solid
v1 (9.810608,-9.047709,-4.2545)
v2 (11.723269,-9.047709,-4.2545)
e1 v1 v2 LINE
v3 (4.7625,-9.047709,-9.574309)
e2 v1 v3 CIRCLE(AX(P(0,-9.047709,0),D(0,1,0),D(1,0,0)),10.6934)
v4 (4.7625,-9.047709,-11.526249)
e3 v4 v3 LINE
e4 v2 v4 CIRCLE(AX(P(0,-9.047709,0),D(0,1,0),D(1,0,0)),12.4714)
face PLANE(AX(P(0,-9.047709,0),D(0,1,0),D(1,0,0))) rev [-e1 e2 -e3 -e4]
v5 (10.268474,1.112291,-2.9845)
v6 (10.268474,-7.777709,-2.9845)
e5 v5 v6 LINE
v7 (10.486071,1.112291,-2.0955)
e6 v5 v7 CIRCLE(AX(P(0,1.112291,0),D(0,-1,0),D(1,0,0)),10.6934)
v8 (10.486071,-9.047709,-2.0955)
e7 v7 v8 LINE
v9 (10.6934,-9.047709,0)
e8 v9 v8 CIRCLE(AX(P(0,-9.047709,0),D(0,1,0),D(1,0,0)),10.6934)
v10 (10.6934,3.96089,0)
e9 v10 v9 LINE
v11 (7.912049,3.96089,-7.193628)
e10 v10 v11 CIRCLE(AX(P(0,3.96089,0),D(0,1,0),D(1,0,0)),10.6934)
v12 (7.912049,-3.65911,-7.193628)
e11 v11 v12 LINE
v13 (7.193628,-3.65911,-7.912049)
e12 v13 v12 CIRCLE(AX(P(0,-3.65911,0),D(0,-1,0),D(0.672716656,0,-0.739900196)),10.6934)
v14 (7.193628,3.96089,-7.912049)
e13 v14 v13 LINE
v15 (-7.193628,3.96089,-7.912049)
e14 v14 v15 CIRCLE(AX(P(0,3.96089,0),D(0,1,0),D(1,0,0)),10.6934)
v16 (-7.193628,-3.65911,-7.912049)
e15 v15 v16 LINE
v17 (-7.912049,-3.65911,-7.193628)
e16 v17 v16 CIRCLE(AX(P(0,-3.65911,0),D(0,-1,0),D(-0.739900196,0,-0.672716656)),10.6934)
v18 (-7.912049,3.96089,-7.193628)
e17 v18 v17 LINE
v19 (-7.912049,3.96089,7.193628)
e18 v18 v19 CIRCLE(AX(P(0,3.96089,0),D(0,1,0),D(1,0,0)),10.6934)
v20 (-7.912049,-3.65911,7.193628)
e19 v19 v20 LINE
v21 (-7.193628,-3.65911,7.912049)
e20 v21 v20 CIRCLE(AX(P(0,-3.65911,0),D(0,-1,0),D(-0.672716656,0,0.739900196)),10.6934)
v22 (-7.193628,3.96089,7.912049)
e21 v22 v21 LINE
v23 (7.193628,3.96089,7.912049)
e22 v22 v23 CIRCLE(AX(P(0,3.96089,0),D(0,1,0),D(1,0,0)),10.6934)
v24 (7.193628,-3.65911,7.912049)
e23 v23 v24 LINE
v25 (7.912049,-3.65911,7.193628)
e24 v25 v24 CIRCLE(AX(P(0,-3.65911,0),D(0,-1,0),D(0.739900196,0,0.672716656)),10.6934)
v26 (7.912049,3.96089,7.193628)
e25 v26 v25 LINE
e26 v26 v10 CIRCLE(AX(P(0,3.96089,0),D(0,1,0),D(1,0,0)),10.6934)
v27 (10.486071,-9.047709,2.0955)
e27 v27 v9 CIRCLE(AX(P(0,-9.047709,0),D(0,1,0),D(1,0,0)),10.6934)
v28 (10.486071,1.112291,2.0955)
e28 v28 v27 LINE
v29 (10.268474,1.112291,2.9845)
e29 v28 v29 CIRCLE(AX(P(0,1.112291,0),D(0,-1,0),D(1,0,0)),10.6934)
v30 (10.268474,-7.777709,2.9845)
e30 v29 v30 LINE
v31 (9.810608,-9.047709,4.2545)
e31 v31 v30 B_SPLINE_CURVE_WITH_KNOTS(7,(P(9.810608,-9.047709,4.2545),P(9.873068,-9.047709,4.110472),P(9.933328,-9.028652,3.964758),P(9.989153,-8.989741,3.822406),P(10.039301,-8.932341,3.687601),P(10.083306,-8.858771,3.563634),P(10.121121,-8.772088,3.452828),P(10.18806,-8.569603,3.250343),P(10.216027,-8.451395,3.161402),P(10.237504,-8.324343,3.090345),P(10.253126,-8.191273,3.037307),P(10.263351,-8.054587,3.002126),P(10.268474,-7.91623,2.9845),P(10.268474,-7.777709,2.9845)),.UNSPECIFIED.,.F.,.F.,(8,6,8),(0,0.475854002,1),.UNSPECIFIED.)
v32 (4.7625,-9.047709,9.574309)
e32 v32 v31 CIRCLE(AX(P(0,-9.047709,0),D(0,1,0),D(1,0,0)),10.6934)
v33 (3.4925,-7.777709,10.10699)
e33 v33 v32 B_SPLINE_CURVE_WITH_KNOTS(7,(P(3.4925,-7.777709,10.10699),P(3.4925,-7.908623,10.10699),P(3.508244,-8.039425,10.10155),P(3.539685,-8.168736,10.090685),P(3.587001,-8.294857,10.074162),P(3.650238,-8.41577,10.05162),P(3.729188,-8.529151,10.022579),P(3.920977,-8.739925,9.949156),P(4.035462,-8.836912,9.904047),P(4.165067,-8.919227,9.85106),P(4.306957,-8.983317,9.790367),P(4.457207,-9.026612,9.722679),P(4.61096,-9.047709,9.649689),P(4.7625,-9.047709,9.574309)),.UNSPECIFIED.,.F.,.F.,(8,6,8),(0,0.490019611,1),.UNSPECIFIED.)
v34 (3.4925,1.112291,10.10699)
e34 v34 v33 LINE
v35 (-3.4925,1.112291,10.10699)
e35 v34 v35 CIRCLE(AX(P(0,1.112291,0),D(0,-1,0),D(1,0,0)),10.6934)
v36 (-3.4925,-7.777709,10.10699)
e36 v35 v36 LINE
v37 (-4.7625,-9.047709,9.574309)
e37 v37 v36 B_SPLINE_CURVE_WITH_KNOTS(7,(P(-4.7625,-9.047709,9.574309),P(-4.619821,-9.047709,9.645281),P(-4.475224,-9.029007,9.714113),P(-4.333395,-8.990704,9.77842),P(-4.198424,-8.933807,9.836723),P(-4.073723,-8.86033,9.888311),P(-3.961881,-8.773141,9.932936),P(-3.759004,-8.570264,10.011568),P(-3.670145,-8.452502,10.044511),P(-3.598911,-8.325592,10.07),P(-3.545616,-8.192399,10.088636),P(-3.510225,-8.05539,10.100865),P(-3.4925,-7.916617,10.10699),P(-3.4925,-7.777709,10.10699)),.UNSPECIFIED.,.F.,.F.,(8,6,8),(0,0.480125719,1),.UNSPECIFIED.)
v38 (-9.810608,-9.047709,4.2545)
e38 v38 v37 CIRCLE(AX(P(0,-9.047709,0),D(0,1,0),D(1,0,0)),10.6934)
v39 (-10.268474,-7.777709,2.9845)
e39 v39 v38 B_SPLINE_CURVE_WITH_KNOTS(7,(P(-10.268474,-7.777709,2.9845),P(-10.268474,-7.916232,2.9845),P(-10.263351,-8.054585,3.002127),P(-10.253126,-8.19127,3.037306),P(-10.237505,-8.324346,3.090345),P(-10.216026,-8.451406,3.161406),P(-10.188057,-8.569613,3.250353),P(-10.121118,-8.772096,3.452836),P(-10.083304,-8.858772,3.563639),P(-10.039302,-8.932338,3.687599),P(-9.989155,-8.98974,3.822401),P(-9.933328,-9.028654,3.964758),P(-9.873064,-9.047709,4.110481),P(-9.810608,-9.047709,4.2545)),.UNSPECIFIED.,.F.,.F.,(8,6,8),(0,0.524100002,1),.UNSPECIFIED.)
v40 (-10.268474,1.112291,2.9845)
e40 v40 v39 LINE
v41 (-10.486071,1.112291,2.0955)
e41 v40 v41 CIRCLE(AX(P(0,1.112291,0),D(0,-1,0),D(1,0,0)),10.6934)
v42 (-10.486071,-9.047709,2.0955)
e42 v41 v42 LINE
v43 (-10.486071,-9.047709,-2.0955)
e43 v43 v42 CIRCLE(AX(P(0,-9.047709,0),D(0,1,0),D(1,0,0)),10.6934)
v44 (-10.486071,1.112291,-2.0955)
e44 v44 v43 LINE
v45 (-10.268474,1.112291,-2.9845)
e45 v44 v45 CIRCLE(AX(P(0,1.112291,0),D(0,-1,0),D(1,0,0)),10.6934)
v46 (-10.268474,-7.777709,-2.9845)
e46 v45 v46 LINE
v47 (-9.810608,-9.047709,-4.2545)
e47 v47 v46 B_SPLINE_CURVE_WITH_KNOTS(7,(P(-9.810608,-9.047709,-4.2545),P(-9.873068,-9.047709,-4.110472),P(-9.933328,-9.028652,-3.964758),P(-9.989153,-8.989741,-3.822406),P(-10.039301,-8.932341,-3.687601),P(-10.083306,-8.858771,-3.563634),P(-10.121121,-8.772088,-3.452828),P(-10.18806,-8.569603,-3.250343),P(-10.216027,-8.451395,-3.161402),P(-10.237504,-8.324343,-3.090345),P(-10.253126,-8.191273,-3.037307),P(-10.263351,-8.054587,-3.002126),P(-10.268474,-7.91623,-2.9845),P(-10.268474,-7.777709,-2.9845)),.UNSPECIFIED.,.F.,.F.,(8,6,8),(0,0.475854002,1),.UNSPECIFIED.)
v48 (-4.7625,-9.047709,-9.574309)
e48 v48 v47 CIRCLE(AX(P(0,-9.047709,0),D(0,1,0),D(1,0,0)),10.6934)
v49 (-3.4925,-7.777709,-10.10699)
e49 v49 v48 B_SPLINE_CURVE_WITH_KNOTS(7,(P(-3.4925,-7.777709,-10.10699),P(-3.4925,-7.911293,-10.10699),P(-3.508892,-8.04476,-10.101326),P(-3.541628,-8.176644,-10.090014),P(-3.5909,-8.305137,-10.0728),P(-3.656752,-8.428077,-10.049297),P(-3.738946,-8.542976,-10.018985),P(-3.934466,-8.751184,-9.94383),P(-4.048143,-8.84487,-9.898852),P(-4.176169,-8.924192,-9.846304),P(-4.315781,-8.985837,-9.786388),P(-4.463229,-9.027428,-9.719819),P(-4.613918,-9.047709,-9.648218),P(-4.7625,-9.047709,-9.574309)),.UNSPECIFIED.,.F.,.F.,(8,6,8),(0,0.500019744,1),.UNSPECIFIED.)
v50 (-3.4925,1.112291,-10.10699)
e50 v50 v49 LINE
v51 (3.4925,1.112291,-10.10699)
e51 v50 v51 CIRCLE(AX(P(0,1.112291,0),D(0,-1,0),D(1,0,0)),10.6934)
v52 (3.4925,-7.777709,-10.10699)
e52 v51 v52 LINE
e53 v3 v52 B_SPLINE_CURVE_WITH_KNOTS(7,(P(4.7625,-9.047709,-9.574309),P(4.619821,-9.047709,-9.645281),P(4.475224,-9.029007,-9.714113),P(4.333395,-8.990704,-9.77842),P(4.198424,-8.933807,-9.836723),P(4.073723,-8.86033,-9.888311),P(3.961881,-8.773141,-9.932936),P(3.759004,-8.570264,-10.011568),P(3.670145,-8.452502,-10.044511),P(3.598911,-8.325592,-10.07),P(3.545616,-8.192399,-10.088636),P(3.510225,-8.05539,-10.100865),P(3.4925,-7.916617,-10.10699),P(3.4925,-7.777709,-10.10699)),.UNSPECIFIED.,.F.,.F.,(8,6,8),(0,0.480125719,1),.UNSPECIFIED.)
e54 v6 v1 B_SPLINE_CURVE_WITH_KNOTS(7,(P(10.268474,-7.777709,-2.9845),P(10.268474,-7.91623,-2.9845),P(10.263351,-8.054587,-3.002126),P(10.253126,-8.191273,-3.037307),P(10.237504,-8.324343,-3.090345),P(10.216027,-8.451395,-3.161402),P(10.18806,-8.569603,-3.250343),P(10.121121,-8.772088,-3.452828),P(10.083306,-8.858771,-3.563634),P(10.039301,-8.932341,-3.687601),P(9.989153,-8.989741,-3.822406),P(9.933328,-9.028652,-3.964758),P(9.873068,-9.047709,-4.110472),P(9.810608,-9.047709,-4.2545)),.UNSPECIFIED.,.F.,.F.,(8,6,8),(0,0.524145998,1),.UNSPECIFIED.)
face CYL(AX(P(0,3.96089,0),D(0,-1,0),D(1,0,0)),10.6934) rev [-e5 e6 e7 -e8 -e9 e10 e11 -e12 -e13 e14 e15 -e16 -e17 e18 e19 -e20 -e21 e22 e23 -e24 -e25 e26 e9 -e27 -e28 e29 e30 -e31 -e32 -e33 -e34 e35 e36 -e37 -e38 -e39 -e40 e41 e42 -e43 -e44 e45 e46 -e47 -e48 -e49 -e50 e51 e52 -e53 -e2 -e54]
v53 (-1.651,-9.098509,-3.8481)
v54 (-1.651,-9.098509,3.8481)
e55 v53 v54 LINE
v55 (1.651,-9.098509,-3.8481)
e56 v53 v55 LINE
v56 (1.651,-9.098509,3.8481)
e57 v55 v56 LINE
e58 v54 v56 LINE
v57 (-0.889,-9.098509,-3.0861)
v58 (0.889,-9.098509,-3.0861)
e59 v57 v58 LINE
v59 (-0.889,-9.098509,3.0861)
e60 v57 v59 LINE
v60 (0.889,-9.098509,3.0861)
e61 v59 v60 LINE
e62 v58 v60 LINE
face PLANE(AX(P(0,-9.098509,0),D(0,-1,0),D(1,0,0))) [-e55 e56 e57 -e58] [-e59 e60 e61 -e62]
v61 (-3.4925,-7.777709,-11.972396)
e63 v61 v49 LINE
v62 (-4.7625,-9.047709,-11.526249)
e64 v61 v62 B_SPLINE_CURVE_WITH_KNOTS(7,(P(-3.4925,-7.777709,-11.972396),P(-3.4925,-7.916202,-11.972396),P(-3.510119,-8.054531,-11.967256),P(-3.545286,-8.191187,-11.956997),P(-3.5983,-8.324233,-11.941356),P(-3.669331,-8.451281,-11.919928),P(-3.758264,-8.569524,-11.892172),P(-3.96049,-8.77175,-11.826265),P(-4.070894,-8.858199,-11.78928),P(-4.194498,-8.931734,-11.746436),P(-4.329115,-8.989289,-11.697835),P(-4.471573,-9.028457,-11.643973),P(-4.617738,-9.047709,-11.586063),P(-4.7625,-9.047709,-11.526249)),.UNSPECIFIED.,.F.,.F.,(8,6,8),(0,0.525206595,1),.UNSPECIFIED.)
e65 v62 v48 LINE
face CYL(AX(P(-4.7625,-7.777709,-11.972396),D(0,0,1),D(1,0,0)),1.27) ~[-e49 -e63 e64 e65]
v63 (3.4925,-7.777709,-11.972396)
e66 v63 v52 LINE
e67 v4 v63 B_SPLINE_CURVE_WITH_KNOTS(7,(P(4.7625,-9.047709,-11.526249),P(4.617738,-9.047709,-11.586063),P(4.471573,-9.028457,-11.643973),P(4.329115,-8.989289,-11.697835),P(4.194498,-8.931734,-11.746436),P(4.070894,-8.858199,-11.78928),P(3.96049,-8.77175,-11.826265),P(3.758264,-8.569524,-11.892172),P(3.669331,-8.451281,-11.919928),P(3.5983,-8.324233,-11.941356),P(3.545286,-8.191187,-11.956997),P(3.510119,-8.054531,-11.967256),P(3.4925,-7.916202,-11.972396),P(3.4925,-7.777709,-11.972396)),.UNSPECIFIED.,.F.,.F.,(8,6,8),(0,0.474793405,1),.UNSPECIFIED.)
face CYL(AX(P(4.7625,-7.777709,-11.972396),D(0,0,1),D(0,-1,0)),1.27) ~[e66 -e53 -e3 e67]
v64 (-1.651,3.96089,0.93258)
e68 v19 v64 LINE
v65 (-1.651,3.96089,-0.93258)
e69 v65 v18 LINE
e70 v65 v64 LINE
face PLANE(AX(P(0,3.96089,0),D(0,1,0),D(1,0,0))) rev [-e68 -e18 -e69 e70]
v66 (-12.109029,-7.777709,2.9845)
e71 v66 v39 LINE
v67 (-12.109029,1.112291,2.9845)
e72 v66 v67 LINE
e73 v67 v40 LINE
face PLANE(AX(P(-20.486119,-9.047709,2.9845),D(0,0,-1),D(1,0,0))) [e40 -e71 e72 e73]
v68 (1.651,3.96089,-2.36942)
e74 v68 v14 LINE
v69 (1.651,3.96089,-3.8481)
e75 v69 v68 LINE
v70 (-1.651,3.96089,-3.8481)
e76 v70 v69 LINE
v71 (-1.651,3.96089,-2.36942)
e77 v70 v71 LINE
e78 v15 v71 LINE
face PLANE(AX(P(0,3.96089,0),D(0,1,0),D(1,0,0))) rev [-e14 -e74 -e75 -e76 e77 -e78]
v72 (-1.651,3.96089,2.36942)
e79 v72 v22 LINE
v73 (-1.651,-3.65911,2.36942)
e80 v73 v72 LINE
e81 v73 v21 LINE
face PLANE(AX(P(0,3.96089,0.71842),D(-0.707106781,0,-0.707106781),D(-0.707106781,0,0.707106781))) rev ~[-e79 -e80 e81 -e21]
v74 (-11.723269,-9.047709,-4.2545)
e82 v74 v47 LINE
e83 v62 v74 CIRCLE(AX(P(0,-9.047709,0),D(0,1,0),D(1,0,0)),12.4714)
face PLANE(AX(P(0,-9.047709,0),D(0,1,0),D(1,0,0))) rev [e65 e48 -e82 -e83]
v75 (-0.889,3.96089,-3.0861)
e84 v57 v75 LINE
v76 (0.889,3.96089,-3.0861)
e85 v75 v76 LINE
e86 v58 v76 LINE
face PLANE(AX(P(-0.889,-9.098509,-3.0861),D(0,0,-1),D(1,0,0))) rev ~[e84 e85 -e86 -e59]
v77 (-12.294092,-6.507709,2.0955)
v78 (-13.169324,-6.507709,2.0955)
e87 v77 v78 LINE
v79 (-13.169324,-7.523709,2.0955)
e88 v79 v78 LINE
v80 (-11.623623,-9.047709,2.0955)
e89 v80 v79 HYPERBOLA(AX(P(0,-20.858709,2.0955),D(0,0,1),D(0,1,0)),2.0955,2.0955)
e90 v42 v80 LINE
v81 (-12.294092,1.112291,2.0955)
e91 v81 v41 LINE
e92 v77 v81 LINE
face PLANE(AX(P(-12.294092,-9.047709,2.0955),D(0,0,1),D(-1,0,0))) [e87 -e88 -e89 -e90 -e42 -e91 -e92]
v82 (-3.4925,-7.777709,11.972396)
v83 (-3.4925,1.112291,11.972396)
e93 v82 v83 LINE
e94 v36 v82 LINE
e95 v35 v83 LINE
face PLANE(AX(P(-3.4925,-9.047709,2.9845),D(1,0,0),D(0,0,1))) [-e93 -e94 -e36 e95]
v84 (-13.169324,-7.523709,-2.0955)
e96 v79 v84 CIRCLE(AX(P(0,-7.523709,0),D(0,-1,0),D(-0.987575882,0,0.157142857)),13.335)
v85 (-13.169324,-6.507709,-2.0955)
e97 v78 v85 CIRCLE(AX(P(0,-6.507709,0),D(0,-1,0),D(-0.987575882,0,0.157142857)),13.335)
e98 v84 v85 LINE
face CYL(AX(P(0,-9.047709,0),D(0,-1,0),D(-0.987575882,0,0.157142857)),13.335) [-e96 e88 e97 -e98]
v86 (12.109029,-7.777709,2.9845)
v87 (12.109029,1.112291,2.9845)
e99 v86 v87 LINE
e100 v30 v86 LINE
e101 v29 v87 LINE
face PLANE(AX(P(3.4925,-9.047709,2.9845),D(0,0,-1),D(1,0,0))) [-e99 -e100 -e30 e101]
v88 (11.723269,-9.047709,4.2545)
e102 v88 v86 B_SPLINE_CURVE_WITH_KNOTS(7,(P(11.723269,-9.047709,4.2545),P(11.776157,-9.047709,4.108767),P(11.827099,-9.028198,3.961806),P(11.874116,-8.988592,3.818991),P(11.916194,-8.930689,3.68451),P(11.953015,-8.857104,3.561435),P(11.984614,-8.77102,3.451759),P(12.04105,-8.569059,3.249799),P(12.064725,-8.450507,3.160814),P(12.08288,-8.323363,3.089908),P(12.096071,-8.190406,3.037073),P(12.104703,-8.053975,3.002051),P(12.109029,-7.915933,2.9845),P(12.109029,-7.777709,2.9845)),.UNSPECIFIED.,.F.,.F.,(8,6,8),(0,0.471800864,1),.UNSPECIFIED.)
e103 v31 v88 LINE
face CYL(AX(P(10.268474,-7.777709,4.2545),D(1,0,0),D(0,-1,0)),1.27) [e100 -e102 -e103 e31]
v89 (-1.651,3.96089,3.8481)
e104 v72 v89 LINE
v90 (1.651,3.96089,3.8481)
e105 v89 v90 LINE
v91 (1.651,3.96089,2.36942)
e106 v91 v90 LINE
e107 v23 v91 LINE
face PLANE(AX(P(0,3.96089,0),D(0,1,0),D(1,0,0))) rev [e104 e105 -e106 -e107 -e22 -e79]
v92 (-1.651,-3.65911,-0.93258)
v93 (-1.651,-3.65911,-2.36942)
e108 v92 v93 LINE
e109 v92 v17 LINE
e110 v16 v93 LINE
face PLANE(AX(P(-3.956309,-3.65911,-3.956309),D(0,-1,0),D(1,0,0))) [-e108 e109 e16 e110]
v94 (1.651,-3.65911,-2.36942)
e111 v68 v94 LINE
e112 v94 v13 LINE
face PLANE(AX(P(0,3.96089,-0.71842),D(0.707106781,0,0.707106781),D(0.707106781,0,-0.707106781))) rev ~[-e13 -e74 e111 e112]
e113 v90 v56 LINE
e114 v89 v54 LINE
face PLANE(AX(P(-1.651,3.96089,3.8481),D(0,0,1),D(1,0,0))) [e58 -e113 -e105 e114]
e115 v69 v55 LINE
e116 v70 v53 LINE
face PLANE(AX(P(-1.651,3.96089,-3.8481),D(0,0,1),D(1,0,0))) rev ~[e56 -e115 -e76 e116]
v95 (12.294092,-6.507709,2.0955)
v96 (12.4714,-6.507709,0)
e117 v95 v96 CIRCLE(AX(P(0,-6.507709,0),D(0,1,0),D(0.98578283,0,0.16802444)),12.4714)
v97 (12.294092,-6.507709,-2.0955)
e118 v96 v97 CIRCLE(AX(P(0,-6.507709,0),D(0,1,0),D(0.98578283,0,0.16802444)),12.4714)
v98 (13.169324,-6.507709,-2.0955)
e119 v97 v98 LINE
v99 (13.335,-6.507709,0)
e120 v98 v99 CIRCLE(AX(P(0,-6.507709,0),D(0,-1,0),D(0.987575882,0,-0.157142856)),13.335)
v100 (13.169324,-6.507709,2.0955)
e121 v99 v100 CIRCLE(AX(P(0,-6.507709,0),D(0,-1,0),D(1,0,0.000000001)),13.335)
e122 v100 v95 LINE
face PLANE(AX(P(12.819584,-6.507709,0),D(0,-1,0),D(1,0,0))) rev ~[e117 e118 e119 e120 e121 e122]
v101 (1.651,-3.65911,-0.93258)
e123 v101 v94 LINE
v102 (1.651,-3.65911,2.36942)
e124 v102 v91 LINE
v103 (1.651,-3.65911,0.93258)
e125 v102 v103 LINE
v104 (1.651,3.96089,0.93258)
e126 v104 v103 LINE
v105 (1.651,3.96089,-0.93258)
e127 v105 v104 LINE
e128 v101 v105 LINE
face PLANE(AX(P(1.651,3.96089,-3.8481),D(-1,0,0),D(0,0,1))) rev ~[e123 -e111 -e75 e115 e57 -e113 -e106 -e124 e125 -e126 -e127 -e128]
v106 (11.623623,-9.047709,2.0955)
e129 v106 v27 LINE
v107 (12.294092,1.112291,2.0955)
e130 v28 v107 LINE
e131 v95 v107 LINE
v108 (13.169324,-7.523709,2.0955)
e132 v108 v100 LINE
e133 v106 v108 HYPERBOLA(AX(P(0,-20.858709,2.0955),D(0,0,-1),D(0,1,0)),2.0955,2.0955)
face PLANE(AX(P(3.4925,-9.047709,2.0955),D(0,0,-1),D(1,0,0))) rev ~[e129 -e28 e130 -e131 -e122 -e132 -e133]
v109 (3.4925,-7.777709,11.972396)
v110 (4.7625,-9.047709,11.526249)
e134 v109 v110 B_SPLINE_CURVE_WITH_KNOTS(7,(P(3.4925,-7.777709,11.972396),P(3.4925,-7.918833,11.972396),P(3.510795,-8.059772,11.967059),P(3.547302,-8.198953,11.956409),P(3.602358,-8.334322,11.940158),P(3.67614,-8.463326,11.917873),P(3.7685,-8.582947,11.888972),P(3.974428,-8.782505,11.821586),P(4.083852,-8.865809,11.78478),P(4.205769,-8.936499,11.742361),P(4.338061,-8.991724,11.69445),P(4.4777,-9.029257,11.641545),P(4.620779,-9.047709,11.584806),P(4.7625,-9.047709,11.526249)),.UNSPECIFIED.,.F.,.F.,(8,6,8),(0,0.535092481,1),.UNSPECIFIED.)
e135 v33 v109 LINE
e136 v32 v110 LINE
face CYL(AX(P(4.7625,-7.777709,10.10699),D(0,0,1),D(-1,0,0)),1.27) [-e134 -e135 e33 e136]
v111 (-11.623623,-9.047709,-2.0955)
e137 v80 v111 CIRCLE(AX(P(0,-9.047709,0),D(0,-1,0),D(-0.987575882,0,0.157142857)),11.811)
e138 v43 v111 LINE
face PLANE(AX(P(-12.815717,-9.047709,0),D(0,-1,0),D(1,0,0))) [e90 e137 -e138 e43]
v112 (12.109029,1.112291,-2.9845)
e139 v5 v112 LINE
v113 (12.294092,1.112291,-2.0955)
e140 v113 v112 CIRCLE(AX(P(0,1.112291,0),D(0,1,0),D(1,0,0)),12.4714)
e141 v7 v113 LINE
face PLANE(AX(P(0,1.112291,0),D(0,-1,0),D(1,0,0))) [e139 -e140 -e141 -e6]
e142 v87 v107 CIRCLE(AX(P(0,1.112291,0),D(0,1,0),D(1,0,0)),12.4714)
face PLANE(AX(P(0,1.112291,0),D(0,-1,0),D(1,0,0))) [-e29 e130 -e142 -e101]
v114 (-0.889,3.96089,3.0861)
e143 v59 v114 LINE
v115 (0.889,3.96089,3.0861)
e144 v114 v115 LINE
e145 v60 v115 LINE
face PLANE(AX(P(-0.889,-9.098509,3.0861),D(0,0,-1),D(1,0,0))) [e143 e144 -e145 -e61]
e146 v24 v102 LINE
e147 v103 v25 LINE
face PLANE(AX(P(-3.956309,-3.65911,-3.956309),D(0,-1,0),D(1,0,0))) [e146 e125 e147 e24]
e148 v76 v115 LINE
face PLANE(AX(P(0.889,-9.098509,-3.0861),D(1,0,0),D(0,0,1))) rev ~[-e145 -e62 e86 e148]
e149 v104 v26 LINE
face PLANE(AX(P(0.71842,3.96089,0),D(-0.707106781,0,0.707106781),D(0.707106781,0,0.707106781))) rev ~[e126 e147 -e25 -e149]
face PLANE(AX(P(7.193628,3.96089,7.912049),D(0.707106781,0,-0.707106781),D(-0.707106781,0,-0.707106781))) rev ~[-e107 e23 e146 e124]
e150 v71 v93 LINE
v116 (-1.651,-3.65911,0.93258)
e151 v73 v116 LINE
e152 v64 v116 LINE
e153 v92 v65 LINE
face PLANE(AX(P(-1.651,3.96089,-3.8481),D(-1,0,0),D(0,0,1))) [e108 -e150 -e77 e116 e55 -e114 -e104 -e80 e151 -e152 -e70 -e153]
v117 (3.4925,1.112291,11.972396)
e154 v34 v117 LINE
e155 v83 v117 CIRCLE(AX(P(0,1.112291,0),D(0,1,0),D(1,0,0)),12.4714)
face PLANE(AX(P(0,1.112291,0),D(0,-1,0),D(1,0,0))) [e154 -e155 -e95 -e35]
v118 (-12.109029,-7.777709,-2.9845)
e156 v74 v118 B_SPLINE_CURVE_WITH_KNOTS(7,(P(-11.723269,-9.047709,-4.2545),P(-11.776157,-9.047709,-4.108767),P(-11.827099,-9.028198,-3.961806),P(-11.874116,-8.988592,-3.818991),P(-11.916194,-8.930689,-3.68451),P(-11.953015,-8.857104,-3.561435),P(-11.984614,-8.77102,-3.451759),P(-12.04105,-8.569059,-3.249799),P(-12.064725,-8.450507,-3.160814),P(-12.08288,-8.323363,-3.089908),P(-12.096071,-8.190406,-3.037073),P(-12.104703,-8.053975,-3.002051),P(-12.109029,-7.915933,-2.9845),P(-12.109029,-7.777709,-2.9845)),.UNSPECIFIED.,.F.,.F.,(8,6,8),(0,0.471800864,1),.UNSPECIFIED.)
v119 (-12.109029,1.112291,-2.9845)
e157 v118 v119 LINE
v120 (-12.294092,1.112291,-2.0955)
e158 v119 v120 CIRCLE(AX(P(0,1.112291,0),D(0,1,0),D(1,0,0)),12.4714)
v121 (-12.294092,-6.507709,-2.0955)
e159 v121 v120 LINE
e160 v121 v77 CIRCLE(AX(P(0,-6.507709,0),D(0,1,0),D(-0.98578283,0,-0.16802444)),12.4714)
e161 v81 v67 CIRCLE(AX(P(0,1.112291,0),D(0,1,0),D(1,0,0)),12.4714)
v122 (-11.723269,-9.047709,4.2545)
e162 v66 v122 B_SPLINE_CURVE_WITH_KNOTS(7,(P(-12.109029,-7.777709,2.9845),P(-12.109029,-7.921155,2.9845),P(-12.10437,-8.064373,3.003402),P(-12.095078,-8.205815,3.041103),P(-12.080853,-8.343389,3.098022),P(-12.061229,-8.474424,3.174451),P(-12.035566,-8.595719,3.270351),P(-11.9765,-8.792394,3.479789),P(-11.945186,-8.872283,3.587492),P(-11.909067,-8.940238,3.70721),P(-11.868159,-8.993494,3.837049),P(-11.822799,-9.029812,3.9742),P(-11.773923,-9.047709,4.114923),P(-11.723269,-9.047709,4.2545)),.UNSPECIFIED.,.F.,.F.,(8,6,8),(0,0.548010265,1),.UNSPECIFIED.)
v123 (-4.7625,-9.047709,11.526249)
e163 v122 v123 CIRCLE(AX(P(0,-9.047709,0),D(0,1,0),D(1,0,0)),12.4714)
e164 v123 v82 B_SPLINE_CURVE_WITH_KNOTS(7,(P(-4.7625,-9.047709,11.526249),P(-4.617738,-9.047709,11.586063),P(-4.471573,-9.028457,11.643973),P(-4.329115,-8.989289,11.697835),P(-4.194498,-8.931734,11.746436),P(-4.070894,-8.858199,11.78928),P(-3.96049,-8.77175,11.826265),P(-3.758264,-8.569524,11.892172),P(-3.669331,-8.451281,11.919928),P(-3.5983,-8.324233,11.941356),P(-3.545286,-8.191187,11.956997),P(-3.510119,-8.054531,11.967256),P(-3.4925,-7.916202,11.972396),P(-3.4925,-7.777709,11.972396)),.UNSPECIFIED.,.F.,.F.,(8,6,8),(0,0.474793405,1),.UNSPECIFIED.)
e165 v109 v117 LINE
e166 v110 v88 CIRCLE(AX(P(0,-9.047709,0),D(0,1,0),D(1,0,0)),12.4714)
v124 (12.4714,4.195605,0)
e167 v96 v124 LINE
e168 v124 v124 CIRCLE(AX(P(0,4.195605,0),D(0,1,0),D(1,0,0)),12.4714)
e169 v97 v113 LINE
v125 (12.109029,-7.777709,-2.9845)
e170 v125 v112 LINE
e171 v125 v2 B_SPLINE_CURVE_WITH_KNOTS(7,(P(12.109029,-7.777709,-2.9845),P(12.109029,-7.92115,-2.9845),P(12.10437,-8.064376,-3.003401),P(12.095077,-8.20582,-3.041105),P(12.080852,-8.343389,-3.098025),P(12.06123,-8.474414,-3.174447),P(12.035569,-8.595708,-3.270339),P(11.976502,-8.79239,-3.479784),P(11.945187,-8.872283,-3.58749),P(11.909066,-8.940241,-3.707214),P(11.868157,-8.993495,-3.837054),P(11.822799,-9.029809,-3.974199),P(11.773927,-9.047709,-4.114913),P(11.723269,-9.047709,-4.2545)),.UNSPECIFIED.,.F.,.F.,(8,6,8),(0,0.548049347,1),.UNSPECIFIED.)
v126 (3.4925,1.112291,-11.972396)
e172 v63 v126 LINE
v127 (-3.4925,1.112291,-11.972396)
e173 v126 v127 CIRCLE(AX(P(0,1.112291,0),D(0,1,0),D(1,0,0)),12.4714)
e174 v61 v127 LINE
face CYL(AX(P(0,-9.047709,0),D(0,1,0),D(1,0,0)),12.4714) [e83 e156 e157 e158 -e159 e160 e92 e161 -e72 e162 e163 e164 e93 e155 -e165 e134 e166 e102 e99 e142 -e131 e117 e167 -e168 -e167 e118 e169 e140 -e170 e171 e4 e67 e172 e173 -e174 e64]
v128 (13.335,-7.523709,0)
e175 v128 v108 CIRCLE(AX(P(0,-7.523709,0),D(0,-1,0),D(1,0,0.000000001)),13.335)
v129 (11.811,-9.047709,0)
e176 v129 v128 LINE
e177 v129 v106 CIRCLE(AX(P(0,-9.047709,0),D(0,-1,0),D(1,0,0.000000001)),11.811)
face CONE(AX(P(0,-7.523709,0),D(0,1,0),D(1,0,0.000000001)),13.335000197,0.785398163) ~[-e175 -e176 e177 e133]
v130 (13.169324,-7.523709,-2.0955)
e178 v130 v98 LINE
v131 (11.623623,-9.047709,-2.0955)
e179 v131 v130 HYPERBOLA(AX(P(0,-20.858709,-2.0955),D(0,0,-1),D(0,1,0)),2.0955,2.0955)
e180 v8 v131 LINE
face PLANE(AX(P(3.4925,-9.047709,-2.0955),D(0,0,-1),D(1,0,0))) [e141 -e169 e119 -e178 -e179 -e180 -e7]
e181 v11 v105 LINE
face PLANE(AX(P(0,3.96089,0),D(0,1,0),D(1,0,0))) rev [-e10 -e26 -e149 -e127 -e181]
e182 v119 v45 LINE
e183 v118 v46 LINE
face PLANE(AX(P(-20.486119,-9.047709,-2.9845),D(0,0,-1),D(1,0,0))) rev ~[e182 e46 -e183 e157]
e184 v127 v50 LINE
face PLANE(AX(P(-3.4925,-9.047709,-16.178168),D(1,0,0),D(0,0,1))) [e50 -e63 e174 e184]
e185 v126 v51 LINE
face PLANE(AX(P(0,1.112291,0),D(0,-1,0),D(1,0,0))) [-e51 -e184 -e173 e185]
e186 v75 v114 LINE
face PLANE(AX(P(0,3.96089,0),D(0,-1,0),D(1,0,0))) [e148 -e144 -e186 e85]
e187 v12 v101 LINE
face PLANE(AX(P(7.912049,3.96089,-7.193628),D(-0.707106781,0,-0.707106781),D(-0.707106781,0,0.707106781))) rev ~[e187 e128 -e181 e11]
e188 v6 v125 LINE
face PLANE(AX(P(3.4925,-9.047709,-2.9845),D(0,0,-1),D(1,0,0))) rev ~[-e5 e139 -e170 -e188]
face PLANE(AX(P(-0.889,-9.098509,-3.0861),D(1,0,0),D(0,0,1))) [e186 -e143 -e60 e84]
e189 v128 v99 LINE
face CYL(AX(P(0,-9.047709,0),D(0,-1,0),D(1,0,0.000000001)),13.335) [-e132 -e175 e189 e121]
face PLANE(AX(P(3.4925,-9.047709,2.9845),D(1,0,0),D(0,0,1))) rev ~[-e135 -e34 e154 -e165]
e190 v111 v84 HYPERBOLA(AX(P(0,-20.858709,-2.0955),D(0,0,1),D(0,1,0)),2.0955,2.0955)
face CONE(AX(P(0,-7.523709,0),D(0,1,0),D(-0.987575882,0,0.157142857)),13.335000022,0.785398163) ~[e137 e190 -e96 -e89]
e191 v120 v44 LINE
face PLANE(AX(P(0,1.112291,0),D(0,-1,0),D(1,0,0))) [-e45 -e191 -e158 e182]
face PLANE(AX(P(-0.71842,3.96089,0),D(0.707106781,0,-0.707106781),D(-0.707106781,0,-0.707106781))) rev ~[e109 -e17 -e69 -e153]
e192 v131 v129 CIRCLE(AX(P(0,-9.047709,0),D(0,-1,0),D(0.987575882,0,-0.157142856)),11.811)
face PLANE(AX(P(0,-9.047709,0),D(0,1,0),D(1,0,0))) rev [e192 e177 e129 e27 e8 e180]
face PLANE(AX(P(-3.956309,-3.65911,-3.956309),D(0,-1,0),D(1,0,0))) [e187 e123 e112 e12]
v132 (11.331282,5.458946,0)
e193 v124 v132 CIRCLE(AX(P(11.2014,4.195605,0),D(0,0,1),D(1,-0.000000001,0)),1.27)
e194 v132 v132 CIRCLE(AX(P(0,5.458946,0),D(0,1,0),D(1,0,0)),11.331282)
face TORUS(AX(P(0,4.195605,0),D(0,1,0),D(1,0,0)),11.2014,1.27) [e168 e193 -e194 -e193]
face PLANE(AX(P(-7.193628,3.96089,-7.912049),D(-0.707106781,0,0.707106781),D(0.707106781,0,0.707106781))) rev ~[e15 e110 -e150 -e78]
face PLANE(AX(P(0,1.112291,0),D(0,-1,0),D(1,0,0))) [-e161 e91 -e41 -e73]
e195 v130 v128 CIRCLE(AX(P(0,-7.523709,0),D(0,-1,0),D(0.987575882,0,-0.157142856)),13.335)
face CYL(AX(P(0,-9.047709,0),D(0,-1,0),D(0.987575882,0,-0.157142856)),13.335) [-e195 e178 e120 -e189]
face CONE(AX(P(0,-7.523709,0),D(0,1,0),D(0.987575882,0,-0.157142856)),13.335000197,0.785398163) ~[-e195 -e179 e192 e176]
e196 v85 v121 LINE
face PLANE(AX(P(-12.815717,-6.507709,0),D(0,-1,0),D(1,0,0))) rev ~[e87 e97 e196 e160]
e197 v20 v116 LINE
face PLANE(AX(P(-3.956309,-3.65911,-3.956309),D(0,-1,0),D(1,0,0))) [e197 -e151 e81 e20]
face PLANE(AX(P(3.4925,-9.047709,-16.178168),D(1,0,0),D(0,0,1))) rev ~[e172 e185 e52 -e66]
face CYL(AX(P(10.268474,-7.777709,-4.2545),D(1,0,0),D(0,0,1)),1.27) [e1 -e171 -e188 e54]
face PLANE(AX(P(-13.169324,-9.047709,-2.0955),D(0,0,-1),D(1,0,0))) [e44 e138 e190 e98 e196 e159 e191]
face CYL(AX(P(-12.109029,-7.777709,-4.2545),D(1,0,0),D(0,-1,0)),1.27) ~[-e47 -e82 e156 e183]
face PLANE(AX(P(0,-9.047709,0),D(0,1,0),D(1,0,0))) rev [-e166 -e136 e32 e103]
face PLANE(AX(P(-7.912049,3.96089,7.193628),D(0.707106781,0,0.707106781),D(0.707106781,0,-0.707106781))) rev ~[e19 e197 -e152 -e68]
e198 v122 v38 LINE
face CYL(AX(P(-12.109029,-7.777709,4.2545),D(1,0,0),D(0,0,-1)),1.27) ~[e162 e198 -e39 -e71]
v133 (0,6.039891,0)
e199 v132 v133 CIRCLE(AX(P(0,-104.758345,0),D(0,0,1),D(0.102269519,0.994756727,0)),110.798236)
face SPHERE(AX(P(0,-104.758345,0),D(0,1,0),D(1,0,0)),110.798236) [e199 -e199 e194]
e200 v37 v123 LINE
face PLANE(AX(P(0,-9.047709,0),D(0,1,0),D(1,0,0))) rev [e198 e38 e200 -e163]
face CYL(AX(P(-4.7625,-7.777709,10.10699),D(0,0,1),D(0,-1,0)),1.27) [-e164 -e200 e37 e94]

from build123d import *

# Parameters (mm, degrees)
SKETCH2_W     = 6.985
SKETCH2_H     = 32.356336156
SKETCH2_W_2   = 40.972237954
SKETCH2_H_2   = 0.889
CUTOUT_DEPTH  = 10.16
TAB_DEPTH     = 2.54
TAB_CHMF_SIZE = 1.524
CROSS_DEPTH   = 7.62
SKETCH4_W     = 3.302
SKETCH4_H     = 7.6962
BOX_DEPTH     = 13.059399
SKETCH6_W     = 1.778
SKETCH6_H     = 6.1722
BOXCUT_DEPTH  = 13.059399
FILLET1_R     = 1.27


with BuildPart() as part:
    # Sketch1 → dome/base (revolve)
    with BuildSketch(Plane.XY):
        with BuildLine():
            Line((0, 6.039891065), (0, 3.960890157))
            Line((0, 3.960890157), (10.6934, 3.960890157))
            Line((10.6934, 3.960890157), (10.6934, -9.047708935))
            Line((10.6934, -9.047708935), (12.4714, -9.047708935))
            Line((12.4714, -9.047708935), (12.4714, 4.195604597))
            ThreePointArc((12.4714, 4.195604597), (12.144228327, 5.046471653), (11.33128229, 5.45894564))
            ThreePointArc((11.33128229, 5.45894564), (5.673082405, 5.894559394), (0, 6.039891065))
        make_face()
    revolve(axis=Axis((0, 0, 0), (0, 1, 0)))

    # Sketch2 → cutout (cut)
    with BuildSketch(Plane.XZ.offset(9.047708935)):
        Rectangle(SKETCH2_W, SKETCH2_H)
        with Locations((0, 2.54)):
            Rectangle(SKETCH2_W_2, SKETCH2_H_2)
        with Locations((0, -2.54)):
            Rectangle(SKETCH2_W_2, SKETCH2_H_2)
    extrude(amount=-CUTOUT_DEPTH, mode=Mode.SUBTRACT)

    # Sketch3 → tab (add)
    with BuildSketch(Plane.XZ.offset(9.047708935)):
        with BuildLine():
            Line((-13.169324385, -2.0955), (-12.294091984, -2.0955))
            ThreePointArc((-12.294091984, -2.0955), (-12.4714, 0), (-12.294091984, 2.0955))
            Line((-12.294091984, 2.0955), (-13.169324385, 2.0955))
            ThreePointArc((-13.169324385, 2.0955), (-13.335, 0), (-13.169324385, -2.0955))
        make_face()
        with BuildLine():
            Line((12.294091984, -2.0955), (13.169324385, -2.0955))
            ThreePointArc((13.169324385, -2.0955), (13.293516571, -1.051019583), (13.335, 0))
            ThreePointArc((13.335, 0), (13.293516571, 1.051019583), (13.169324385, 2.0955))
            Line((13.169324385, 2.0955), (12.294091984, 2.0955))
            ThreePointArc((12.294091984, 2.0955), (12.4714, 0), (12.294091984, -2.0955))
        make_face()
    extrude(amount=-TAB_DEPTH)

    # tab chmf
    tab_chmf_edges = [part.edges().sort_by_distance(p)[0] for p in [
        (-13.335, -9.047708935, 0),
        (13.335, -9.047708935, 0),
    ]]
    chamfer(tab_chmf_edges, length=TAB_CHMF_SIZE)

    # Sketch5 → cross (add)
    with BuildSketch(Plane.XZ.offset(-3.960890157)):
        with BuildLine():
            Line((0, -0.71842049), (-0.71842049, 0))
            Line((-0.71842049, 0), (-7.91204877, -7.19362828))
            ThreePointArc((-7.91204877, -7.19362828), (-7.561375654, -7.561375654), (-7.19362828, -7.91204877))
            Line((-7.19362828, -7.91204877), (0, -0.71842049))
        make_face()
        with BuildLine():
            Line((7.91204877, -7.19362828), (0.71842049, 0))
            Line((0.71842049, 0), (0, -0.71842049))
            Line((0, -0.71842049), (7.19362828, -7.91204877))
            ThreePointArc((7.19362828, -7.91204877), (7.561375654, -7.561375654), (7.91204877, -7.19362828))
        make_face()
        with BuildLine():
            Line((7.19362828, 7.91204877), (0, 0.71842049))
            Line((0, 0.71842049), (0.71842049, 0))
            Line((0.71842049, 0), (7.91204877, 7.19362828))
            ThreePointArc((7.91204877, 7.19362828), (7.561375654, 7.561375654), (7.19362828, 7.91204877))
        make_face()
        Polygon((0.71842049, 0), (0, 0.71842049), (-0.71842049, 0), (0, -0.71842049), align=None)
        with BuildLine():
            Line((-0.71842049, 0), (0, 0.71842049))
            Line((0, 0.71842049), (-7.19362828, 7.91204877))
            ThreePointArc((-7.19362828, 7.91204877), (-7.561375654, 7.561375654), (-7.91204877, 7.19362828))
            Line((-7.91204877, 7.19362828), (-0.71842049, 0))
        make_face()
    extrude(amount=CROSS_DEPTH)

    # Sketch4 → box (add)
    with BuildSketch(Plane.XZ.offset(-3.960890157)):
        Rectangle(SKETCH4_W, SKETCH4_H)
    extrude(amount=BOX_DEPTH)

    # Sketch6 → boxcut (cut)
    with BuildSketch(Plane.XZ.offset(9.098508935)):
        Rectangle(SKETCH6_W, SKETCH6_H)
    extrude(amount=-BOXCUT_DEPTH, mode=Mode.SUBTRACT)

    # Fillet1
    fillet1_edges = [part.edges().sort_by_distance(p)[0] for p in [
        (-3.4925, -9.047708935, -11.039692922),
        (3.4925, -9.047708935, -11.039692922),
        (11.188751506, -9.047708935, -2.9845),
        (-11.188751506, -9.047708935, -2.9845),
        (-3.4925, -9.047708935, 11.039692922),
        (3.4925, -9.047708935, 11.039692922),
        (-11.188751506, -9.047708935, 2.9845),
        (11.188751506, -9.047708935, 2.9845),
    ]]
    fillet(fillet1_edges, radius=FILLET1_R)


solid = part.part
